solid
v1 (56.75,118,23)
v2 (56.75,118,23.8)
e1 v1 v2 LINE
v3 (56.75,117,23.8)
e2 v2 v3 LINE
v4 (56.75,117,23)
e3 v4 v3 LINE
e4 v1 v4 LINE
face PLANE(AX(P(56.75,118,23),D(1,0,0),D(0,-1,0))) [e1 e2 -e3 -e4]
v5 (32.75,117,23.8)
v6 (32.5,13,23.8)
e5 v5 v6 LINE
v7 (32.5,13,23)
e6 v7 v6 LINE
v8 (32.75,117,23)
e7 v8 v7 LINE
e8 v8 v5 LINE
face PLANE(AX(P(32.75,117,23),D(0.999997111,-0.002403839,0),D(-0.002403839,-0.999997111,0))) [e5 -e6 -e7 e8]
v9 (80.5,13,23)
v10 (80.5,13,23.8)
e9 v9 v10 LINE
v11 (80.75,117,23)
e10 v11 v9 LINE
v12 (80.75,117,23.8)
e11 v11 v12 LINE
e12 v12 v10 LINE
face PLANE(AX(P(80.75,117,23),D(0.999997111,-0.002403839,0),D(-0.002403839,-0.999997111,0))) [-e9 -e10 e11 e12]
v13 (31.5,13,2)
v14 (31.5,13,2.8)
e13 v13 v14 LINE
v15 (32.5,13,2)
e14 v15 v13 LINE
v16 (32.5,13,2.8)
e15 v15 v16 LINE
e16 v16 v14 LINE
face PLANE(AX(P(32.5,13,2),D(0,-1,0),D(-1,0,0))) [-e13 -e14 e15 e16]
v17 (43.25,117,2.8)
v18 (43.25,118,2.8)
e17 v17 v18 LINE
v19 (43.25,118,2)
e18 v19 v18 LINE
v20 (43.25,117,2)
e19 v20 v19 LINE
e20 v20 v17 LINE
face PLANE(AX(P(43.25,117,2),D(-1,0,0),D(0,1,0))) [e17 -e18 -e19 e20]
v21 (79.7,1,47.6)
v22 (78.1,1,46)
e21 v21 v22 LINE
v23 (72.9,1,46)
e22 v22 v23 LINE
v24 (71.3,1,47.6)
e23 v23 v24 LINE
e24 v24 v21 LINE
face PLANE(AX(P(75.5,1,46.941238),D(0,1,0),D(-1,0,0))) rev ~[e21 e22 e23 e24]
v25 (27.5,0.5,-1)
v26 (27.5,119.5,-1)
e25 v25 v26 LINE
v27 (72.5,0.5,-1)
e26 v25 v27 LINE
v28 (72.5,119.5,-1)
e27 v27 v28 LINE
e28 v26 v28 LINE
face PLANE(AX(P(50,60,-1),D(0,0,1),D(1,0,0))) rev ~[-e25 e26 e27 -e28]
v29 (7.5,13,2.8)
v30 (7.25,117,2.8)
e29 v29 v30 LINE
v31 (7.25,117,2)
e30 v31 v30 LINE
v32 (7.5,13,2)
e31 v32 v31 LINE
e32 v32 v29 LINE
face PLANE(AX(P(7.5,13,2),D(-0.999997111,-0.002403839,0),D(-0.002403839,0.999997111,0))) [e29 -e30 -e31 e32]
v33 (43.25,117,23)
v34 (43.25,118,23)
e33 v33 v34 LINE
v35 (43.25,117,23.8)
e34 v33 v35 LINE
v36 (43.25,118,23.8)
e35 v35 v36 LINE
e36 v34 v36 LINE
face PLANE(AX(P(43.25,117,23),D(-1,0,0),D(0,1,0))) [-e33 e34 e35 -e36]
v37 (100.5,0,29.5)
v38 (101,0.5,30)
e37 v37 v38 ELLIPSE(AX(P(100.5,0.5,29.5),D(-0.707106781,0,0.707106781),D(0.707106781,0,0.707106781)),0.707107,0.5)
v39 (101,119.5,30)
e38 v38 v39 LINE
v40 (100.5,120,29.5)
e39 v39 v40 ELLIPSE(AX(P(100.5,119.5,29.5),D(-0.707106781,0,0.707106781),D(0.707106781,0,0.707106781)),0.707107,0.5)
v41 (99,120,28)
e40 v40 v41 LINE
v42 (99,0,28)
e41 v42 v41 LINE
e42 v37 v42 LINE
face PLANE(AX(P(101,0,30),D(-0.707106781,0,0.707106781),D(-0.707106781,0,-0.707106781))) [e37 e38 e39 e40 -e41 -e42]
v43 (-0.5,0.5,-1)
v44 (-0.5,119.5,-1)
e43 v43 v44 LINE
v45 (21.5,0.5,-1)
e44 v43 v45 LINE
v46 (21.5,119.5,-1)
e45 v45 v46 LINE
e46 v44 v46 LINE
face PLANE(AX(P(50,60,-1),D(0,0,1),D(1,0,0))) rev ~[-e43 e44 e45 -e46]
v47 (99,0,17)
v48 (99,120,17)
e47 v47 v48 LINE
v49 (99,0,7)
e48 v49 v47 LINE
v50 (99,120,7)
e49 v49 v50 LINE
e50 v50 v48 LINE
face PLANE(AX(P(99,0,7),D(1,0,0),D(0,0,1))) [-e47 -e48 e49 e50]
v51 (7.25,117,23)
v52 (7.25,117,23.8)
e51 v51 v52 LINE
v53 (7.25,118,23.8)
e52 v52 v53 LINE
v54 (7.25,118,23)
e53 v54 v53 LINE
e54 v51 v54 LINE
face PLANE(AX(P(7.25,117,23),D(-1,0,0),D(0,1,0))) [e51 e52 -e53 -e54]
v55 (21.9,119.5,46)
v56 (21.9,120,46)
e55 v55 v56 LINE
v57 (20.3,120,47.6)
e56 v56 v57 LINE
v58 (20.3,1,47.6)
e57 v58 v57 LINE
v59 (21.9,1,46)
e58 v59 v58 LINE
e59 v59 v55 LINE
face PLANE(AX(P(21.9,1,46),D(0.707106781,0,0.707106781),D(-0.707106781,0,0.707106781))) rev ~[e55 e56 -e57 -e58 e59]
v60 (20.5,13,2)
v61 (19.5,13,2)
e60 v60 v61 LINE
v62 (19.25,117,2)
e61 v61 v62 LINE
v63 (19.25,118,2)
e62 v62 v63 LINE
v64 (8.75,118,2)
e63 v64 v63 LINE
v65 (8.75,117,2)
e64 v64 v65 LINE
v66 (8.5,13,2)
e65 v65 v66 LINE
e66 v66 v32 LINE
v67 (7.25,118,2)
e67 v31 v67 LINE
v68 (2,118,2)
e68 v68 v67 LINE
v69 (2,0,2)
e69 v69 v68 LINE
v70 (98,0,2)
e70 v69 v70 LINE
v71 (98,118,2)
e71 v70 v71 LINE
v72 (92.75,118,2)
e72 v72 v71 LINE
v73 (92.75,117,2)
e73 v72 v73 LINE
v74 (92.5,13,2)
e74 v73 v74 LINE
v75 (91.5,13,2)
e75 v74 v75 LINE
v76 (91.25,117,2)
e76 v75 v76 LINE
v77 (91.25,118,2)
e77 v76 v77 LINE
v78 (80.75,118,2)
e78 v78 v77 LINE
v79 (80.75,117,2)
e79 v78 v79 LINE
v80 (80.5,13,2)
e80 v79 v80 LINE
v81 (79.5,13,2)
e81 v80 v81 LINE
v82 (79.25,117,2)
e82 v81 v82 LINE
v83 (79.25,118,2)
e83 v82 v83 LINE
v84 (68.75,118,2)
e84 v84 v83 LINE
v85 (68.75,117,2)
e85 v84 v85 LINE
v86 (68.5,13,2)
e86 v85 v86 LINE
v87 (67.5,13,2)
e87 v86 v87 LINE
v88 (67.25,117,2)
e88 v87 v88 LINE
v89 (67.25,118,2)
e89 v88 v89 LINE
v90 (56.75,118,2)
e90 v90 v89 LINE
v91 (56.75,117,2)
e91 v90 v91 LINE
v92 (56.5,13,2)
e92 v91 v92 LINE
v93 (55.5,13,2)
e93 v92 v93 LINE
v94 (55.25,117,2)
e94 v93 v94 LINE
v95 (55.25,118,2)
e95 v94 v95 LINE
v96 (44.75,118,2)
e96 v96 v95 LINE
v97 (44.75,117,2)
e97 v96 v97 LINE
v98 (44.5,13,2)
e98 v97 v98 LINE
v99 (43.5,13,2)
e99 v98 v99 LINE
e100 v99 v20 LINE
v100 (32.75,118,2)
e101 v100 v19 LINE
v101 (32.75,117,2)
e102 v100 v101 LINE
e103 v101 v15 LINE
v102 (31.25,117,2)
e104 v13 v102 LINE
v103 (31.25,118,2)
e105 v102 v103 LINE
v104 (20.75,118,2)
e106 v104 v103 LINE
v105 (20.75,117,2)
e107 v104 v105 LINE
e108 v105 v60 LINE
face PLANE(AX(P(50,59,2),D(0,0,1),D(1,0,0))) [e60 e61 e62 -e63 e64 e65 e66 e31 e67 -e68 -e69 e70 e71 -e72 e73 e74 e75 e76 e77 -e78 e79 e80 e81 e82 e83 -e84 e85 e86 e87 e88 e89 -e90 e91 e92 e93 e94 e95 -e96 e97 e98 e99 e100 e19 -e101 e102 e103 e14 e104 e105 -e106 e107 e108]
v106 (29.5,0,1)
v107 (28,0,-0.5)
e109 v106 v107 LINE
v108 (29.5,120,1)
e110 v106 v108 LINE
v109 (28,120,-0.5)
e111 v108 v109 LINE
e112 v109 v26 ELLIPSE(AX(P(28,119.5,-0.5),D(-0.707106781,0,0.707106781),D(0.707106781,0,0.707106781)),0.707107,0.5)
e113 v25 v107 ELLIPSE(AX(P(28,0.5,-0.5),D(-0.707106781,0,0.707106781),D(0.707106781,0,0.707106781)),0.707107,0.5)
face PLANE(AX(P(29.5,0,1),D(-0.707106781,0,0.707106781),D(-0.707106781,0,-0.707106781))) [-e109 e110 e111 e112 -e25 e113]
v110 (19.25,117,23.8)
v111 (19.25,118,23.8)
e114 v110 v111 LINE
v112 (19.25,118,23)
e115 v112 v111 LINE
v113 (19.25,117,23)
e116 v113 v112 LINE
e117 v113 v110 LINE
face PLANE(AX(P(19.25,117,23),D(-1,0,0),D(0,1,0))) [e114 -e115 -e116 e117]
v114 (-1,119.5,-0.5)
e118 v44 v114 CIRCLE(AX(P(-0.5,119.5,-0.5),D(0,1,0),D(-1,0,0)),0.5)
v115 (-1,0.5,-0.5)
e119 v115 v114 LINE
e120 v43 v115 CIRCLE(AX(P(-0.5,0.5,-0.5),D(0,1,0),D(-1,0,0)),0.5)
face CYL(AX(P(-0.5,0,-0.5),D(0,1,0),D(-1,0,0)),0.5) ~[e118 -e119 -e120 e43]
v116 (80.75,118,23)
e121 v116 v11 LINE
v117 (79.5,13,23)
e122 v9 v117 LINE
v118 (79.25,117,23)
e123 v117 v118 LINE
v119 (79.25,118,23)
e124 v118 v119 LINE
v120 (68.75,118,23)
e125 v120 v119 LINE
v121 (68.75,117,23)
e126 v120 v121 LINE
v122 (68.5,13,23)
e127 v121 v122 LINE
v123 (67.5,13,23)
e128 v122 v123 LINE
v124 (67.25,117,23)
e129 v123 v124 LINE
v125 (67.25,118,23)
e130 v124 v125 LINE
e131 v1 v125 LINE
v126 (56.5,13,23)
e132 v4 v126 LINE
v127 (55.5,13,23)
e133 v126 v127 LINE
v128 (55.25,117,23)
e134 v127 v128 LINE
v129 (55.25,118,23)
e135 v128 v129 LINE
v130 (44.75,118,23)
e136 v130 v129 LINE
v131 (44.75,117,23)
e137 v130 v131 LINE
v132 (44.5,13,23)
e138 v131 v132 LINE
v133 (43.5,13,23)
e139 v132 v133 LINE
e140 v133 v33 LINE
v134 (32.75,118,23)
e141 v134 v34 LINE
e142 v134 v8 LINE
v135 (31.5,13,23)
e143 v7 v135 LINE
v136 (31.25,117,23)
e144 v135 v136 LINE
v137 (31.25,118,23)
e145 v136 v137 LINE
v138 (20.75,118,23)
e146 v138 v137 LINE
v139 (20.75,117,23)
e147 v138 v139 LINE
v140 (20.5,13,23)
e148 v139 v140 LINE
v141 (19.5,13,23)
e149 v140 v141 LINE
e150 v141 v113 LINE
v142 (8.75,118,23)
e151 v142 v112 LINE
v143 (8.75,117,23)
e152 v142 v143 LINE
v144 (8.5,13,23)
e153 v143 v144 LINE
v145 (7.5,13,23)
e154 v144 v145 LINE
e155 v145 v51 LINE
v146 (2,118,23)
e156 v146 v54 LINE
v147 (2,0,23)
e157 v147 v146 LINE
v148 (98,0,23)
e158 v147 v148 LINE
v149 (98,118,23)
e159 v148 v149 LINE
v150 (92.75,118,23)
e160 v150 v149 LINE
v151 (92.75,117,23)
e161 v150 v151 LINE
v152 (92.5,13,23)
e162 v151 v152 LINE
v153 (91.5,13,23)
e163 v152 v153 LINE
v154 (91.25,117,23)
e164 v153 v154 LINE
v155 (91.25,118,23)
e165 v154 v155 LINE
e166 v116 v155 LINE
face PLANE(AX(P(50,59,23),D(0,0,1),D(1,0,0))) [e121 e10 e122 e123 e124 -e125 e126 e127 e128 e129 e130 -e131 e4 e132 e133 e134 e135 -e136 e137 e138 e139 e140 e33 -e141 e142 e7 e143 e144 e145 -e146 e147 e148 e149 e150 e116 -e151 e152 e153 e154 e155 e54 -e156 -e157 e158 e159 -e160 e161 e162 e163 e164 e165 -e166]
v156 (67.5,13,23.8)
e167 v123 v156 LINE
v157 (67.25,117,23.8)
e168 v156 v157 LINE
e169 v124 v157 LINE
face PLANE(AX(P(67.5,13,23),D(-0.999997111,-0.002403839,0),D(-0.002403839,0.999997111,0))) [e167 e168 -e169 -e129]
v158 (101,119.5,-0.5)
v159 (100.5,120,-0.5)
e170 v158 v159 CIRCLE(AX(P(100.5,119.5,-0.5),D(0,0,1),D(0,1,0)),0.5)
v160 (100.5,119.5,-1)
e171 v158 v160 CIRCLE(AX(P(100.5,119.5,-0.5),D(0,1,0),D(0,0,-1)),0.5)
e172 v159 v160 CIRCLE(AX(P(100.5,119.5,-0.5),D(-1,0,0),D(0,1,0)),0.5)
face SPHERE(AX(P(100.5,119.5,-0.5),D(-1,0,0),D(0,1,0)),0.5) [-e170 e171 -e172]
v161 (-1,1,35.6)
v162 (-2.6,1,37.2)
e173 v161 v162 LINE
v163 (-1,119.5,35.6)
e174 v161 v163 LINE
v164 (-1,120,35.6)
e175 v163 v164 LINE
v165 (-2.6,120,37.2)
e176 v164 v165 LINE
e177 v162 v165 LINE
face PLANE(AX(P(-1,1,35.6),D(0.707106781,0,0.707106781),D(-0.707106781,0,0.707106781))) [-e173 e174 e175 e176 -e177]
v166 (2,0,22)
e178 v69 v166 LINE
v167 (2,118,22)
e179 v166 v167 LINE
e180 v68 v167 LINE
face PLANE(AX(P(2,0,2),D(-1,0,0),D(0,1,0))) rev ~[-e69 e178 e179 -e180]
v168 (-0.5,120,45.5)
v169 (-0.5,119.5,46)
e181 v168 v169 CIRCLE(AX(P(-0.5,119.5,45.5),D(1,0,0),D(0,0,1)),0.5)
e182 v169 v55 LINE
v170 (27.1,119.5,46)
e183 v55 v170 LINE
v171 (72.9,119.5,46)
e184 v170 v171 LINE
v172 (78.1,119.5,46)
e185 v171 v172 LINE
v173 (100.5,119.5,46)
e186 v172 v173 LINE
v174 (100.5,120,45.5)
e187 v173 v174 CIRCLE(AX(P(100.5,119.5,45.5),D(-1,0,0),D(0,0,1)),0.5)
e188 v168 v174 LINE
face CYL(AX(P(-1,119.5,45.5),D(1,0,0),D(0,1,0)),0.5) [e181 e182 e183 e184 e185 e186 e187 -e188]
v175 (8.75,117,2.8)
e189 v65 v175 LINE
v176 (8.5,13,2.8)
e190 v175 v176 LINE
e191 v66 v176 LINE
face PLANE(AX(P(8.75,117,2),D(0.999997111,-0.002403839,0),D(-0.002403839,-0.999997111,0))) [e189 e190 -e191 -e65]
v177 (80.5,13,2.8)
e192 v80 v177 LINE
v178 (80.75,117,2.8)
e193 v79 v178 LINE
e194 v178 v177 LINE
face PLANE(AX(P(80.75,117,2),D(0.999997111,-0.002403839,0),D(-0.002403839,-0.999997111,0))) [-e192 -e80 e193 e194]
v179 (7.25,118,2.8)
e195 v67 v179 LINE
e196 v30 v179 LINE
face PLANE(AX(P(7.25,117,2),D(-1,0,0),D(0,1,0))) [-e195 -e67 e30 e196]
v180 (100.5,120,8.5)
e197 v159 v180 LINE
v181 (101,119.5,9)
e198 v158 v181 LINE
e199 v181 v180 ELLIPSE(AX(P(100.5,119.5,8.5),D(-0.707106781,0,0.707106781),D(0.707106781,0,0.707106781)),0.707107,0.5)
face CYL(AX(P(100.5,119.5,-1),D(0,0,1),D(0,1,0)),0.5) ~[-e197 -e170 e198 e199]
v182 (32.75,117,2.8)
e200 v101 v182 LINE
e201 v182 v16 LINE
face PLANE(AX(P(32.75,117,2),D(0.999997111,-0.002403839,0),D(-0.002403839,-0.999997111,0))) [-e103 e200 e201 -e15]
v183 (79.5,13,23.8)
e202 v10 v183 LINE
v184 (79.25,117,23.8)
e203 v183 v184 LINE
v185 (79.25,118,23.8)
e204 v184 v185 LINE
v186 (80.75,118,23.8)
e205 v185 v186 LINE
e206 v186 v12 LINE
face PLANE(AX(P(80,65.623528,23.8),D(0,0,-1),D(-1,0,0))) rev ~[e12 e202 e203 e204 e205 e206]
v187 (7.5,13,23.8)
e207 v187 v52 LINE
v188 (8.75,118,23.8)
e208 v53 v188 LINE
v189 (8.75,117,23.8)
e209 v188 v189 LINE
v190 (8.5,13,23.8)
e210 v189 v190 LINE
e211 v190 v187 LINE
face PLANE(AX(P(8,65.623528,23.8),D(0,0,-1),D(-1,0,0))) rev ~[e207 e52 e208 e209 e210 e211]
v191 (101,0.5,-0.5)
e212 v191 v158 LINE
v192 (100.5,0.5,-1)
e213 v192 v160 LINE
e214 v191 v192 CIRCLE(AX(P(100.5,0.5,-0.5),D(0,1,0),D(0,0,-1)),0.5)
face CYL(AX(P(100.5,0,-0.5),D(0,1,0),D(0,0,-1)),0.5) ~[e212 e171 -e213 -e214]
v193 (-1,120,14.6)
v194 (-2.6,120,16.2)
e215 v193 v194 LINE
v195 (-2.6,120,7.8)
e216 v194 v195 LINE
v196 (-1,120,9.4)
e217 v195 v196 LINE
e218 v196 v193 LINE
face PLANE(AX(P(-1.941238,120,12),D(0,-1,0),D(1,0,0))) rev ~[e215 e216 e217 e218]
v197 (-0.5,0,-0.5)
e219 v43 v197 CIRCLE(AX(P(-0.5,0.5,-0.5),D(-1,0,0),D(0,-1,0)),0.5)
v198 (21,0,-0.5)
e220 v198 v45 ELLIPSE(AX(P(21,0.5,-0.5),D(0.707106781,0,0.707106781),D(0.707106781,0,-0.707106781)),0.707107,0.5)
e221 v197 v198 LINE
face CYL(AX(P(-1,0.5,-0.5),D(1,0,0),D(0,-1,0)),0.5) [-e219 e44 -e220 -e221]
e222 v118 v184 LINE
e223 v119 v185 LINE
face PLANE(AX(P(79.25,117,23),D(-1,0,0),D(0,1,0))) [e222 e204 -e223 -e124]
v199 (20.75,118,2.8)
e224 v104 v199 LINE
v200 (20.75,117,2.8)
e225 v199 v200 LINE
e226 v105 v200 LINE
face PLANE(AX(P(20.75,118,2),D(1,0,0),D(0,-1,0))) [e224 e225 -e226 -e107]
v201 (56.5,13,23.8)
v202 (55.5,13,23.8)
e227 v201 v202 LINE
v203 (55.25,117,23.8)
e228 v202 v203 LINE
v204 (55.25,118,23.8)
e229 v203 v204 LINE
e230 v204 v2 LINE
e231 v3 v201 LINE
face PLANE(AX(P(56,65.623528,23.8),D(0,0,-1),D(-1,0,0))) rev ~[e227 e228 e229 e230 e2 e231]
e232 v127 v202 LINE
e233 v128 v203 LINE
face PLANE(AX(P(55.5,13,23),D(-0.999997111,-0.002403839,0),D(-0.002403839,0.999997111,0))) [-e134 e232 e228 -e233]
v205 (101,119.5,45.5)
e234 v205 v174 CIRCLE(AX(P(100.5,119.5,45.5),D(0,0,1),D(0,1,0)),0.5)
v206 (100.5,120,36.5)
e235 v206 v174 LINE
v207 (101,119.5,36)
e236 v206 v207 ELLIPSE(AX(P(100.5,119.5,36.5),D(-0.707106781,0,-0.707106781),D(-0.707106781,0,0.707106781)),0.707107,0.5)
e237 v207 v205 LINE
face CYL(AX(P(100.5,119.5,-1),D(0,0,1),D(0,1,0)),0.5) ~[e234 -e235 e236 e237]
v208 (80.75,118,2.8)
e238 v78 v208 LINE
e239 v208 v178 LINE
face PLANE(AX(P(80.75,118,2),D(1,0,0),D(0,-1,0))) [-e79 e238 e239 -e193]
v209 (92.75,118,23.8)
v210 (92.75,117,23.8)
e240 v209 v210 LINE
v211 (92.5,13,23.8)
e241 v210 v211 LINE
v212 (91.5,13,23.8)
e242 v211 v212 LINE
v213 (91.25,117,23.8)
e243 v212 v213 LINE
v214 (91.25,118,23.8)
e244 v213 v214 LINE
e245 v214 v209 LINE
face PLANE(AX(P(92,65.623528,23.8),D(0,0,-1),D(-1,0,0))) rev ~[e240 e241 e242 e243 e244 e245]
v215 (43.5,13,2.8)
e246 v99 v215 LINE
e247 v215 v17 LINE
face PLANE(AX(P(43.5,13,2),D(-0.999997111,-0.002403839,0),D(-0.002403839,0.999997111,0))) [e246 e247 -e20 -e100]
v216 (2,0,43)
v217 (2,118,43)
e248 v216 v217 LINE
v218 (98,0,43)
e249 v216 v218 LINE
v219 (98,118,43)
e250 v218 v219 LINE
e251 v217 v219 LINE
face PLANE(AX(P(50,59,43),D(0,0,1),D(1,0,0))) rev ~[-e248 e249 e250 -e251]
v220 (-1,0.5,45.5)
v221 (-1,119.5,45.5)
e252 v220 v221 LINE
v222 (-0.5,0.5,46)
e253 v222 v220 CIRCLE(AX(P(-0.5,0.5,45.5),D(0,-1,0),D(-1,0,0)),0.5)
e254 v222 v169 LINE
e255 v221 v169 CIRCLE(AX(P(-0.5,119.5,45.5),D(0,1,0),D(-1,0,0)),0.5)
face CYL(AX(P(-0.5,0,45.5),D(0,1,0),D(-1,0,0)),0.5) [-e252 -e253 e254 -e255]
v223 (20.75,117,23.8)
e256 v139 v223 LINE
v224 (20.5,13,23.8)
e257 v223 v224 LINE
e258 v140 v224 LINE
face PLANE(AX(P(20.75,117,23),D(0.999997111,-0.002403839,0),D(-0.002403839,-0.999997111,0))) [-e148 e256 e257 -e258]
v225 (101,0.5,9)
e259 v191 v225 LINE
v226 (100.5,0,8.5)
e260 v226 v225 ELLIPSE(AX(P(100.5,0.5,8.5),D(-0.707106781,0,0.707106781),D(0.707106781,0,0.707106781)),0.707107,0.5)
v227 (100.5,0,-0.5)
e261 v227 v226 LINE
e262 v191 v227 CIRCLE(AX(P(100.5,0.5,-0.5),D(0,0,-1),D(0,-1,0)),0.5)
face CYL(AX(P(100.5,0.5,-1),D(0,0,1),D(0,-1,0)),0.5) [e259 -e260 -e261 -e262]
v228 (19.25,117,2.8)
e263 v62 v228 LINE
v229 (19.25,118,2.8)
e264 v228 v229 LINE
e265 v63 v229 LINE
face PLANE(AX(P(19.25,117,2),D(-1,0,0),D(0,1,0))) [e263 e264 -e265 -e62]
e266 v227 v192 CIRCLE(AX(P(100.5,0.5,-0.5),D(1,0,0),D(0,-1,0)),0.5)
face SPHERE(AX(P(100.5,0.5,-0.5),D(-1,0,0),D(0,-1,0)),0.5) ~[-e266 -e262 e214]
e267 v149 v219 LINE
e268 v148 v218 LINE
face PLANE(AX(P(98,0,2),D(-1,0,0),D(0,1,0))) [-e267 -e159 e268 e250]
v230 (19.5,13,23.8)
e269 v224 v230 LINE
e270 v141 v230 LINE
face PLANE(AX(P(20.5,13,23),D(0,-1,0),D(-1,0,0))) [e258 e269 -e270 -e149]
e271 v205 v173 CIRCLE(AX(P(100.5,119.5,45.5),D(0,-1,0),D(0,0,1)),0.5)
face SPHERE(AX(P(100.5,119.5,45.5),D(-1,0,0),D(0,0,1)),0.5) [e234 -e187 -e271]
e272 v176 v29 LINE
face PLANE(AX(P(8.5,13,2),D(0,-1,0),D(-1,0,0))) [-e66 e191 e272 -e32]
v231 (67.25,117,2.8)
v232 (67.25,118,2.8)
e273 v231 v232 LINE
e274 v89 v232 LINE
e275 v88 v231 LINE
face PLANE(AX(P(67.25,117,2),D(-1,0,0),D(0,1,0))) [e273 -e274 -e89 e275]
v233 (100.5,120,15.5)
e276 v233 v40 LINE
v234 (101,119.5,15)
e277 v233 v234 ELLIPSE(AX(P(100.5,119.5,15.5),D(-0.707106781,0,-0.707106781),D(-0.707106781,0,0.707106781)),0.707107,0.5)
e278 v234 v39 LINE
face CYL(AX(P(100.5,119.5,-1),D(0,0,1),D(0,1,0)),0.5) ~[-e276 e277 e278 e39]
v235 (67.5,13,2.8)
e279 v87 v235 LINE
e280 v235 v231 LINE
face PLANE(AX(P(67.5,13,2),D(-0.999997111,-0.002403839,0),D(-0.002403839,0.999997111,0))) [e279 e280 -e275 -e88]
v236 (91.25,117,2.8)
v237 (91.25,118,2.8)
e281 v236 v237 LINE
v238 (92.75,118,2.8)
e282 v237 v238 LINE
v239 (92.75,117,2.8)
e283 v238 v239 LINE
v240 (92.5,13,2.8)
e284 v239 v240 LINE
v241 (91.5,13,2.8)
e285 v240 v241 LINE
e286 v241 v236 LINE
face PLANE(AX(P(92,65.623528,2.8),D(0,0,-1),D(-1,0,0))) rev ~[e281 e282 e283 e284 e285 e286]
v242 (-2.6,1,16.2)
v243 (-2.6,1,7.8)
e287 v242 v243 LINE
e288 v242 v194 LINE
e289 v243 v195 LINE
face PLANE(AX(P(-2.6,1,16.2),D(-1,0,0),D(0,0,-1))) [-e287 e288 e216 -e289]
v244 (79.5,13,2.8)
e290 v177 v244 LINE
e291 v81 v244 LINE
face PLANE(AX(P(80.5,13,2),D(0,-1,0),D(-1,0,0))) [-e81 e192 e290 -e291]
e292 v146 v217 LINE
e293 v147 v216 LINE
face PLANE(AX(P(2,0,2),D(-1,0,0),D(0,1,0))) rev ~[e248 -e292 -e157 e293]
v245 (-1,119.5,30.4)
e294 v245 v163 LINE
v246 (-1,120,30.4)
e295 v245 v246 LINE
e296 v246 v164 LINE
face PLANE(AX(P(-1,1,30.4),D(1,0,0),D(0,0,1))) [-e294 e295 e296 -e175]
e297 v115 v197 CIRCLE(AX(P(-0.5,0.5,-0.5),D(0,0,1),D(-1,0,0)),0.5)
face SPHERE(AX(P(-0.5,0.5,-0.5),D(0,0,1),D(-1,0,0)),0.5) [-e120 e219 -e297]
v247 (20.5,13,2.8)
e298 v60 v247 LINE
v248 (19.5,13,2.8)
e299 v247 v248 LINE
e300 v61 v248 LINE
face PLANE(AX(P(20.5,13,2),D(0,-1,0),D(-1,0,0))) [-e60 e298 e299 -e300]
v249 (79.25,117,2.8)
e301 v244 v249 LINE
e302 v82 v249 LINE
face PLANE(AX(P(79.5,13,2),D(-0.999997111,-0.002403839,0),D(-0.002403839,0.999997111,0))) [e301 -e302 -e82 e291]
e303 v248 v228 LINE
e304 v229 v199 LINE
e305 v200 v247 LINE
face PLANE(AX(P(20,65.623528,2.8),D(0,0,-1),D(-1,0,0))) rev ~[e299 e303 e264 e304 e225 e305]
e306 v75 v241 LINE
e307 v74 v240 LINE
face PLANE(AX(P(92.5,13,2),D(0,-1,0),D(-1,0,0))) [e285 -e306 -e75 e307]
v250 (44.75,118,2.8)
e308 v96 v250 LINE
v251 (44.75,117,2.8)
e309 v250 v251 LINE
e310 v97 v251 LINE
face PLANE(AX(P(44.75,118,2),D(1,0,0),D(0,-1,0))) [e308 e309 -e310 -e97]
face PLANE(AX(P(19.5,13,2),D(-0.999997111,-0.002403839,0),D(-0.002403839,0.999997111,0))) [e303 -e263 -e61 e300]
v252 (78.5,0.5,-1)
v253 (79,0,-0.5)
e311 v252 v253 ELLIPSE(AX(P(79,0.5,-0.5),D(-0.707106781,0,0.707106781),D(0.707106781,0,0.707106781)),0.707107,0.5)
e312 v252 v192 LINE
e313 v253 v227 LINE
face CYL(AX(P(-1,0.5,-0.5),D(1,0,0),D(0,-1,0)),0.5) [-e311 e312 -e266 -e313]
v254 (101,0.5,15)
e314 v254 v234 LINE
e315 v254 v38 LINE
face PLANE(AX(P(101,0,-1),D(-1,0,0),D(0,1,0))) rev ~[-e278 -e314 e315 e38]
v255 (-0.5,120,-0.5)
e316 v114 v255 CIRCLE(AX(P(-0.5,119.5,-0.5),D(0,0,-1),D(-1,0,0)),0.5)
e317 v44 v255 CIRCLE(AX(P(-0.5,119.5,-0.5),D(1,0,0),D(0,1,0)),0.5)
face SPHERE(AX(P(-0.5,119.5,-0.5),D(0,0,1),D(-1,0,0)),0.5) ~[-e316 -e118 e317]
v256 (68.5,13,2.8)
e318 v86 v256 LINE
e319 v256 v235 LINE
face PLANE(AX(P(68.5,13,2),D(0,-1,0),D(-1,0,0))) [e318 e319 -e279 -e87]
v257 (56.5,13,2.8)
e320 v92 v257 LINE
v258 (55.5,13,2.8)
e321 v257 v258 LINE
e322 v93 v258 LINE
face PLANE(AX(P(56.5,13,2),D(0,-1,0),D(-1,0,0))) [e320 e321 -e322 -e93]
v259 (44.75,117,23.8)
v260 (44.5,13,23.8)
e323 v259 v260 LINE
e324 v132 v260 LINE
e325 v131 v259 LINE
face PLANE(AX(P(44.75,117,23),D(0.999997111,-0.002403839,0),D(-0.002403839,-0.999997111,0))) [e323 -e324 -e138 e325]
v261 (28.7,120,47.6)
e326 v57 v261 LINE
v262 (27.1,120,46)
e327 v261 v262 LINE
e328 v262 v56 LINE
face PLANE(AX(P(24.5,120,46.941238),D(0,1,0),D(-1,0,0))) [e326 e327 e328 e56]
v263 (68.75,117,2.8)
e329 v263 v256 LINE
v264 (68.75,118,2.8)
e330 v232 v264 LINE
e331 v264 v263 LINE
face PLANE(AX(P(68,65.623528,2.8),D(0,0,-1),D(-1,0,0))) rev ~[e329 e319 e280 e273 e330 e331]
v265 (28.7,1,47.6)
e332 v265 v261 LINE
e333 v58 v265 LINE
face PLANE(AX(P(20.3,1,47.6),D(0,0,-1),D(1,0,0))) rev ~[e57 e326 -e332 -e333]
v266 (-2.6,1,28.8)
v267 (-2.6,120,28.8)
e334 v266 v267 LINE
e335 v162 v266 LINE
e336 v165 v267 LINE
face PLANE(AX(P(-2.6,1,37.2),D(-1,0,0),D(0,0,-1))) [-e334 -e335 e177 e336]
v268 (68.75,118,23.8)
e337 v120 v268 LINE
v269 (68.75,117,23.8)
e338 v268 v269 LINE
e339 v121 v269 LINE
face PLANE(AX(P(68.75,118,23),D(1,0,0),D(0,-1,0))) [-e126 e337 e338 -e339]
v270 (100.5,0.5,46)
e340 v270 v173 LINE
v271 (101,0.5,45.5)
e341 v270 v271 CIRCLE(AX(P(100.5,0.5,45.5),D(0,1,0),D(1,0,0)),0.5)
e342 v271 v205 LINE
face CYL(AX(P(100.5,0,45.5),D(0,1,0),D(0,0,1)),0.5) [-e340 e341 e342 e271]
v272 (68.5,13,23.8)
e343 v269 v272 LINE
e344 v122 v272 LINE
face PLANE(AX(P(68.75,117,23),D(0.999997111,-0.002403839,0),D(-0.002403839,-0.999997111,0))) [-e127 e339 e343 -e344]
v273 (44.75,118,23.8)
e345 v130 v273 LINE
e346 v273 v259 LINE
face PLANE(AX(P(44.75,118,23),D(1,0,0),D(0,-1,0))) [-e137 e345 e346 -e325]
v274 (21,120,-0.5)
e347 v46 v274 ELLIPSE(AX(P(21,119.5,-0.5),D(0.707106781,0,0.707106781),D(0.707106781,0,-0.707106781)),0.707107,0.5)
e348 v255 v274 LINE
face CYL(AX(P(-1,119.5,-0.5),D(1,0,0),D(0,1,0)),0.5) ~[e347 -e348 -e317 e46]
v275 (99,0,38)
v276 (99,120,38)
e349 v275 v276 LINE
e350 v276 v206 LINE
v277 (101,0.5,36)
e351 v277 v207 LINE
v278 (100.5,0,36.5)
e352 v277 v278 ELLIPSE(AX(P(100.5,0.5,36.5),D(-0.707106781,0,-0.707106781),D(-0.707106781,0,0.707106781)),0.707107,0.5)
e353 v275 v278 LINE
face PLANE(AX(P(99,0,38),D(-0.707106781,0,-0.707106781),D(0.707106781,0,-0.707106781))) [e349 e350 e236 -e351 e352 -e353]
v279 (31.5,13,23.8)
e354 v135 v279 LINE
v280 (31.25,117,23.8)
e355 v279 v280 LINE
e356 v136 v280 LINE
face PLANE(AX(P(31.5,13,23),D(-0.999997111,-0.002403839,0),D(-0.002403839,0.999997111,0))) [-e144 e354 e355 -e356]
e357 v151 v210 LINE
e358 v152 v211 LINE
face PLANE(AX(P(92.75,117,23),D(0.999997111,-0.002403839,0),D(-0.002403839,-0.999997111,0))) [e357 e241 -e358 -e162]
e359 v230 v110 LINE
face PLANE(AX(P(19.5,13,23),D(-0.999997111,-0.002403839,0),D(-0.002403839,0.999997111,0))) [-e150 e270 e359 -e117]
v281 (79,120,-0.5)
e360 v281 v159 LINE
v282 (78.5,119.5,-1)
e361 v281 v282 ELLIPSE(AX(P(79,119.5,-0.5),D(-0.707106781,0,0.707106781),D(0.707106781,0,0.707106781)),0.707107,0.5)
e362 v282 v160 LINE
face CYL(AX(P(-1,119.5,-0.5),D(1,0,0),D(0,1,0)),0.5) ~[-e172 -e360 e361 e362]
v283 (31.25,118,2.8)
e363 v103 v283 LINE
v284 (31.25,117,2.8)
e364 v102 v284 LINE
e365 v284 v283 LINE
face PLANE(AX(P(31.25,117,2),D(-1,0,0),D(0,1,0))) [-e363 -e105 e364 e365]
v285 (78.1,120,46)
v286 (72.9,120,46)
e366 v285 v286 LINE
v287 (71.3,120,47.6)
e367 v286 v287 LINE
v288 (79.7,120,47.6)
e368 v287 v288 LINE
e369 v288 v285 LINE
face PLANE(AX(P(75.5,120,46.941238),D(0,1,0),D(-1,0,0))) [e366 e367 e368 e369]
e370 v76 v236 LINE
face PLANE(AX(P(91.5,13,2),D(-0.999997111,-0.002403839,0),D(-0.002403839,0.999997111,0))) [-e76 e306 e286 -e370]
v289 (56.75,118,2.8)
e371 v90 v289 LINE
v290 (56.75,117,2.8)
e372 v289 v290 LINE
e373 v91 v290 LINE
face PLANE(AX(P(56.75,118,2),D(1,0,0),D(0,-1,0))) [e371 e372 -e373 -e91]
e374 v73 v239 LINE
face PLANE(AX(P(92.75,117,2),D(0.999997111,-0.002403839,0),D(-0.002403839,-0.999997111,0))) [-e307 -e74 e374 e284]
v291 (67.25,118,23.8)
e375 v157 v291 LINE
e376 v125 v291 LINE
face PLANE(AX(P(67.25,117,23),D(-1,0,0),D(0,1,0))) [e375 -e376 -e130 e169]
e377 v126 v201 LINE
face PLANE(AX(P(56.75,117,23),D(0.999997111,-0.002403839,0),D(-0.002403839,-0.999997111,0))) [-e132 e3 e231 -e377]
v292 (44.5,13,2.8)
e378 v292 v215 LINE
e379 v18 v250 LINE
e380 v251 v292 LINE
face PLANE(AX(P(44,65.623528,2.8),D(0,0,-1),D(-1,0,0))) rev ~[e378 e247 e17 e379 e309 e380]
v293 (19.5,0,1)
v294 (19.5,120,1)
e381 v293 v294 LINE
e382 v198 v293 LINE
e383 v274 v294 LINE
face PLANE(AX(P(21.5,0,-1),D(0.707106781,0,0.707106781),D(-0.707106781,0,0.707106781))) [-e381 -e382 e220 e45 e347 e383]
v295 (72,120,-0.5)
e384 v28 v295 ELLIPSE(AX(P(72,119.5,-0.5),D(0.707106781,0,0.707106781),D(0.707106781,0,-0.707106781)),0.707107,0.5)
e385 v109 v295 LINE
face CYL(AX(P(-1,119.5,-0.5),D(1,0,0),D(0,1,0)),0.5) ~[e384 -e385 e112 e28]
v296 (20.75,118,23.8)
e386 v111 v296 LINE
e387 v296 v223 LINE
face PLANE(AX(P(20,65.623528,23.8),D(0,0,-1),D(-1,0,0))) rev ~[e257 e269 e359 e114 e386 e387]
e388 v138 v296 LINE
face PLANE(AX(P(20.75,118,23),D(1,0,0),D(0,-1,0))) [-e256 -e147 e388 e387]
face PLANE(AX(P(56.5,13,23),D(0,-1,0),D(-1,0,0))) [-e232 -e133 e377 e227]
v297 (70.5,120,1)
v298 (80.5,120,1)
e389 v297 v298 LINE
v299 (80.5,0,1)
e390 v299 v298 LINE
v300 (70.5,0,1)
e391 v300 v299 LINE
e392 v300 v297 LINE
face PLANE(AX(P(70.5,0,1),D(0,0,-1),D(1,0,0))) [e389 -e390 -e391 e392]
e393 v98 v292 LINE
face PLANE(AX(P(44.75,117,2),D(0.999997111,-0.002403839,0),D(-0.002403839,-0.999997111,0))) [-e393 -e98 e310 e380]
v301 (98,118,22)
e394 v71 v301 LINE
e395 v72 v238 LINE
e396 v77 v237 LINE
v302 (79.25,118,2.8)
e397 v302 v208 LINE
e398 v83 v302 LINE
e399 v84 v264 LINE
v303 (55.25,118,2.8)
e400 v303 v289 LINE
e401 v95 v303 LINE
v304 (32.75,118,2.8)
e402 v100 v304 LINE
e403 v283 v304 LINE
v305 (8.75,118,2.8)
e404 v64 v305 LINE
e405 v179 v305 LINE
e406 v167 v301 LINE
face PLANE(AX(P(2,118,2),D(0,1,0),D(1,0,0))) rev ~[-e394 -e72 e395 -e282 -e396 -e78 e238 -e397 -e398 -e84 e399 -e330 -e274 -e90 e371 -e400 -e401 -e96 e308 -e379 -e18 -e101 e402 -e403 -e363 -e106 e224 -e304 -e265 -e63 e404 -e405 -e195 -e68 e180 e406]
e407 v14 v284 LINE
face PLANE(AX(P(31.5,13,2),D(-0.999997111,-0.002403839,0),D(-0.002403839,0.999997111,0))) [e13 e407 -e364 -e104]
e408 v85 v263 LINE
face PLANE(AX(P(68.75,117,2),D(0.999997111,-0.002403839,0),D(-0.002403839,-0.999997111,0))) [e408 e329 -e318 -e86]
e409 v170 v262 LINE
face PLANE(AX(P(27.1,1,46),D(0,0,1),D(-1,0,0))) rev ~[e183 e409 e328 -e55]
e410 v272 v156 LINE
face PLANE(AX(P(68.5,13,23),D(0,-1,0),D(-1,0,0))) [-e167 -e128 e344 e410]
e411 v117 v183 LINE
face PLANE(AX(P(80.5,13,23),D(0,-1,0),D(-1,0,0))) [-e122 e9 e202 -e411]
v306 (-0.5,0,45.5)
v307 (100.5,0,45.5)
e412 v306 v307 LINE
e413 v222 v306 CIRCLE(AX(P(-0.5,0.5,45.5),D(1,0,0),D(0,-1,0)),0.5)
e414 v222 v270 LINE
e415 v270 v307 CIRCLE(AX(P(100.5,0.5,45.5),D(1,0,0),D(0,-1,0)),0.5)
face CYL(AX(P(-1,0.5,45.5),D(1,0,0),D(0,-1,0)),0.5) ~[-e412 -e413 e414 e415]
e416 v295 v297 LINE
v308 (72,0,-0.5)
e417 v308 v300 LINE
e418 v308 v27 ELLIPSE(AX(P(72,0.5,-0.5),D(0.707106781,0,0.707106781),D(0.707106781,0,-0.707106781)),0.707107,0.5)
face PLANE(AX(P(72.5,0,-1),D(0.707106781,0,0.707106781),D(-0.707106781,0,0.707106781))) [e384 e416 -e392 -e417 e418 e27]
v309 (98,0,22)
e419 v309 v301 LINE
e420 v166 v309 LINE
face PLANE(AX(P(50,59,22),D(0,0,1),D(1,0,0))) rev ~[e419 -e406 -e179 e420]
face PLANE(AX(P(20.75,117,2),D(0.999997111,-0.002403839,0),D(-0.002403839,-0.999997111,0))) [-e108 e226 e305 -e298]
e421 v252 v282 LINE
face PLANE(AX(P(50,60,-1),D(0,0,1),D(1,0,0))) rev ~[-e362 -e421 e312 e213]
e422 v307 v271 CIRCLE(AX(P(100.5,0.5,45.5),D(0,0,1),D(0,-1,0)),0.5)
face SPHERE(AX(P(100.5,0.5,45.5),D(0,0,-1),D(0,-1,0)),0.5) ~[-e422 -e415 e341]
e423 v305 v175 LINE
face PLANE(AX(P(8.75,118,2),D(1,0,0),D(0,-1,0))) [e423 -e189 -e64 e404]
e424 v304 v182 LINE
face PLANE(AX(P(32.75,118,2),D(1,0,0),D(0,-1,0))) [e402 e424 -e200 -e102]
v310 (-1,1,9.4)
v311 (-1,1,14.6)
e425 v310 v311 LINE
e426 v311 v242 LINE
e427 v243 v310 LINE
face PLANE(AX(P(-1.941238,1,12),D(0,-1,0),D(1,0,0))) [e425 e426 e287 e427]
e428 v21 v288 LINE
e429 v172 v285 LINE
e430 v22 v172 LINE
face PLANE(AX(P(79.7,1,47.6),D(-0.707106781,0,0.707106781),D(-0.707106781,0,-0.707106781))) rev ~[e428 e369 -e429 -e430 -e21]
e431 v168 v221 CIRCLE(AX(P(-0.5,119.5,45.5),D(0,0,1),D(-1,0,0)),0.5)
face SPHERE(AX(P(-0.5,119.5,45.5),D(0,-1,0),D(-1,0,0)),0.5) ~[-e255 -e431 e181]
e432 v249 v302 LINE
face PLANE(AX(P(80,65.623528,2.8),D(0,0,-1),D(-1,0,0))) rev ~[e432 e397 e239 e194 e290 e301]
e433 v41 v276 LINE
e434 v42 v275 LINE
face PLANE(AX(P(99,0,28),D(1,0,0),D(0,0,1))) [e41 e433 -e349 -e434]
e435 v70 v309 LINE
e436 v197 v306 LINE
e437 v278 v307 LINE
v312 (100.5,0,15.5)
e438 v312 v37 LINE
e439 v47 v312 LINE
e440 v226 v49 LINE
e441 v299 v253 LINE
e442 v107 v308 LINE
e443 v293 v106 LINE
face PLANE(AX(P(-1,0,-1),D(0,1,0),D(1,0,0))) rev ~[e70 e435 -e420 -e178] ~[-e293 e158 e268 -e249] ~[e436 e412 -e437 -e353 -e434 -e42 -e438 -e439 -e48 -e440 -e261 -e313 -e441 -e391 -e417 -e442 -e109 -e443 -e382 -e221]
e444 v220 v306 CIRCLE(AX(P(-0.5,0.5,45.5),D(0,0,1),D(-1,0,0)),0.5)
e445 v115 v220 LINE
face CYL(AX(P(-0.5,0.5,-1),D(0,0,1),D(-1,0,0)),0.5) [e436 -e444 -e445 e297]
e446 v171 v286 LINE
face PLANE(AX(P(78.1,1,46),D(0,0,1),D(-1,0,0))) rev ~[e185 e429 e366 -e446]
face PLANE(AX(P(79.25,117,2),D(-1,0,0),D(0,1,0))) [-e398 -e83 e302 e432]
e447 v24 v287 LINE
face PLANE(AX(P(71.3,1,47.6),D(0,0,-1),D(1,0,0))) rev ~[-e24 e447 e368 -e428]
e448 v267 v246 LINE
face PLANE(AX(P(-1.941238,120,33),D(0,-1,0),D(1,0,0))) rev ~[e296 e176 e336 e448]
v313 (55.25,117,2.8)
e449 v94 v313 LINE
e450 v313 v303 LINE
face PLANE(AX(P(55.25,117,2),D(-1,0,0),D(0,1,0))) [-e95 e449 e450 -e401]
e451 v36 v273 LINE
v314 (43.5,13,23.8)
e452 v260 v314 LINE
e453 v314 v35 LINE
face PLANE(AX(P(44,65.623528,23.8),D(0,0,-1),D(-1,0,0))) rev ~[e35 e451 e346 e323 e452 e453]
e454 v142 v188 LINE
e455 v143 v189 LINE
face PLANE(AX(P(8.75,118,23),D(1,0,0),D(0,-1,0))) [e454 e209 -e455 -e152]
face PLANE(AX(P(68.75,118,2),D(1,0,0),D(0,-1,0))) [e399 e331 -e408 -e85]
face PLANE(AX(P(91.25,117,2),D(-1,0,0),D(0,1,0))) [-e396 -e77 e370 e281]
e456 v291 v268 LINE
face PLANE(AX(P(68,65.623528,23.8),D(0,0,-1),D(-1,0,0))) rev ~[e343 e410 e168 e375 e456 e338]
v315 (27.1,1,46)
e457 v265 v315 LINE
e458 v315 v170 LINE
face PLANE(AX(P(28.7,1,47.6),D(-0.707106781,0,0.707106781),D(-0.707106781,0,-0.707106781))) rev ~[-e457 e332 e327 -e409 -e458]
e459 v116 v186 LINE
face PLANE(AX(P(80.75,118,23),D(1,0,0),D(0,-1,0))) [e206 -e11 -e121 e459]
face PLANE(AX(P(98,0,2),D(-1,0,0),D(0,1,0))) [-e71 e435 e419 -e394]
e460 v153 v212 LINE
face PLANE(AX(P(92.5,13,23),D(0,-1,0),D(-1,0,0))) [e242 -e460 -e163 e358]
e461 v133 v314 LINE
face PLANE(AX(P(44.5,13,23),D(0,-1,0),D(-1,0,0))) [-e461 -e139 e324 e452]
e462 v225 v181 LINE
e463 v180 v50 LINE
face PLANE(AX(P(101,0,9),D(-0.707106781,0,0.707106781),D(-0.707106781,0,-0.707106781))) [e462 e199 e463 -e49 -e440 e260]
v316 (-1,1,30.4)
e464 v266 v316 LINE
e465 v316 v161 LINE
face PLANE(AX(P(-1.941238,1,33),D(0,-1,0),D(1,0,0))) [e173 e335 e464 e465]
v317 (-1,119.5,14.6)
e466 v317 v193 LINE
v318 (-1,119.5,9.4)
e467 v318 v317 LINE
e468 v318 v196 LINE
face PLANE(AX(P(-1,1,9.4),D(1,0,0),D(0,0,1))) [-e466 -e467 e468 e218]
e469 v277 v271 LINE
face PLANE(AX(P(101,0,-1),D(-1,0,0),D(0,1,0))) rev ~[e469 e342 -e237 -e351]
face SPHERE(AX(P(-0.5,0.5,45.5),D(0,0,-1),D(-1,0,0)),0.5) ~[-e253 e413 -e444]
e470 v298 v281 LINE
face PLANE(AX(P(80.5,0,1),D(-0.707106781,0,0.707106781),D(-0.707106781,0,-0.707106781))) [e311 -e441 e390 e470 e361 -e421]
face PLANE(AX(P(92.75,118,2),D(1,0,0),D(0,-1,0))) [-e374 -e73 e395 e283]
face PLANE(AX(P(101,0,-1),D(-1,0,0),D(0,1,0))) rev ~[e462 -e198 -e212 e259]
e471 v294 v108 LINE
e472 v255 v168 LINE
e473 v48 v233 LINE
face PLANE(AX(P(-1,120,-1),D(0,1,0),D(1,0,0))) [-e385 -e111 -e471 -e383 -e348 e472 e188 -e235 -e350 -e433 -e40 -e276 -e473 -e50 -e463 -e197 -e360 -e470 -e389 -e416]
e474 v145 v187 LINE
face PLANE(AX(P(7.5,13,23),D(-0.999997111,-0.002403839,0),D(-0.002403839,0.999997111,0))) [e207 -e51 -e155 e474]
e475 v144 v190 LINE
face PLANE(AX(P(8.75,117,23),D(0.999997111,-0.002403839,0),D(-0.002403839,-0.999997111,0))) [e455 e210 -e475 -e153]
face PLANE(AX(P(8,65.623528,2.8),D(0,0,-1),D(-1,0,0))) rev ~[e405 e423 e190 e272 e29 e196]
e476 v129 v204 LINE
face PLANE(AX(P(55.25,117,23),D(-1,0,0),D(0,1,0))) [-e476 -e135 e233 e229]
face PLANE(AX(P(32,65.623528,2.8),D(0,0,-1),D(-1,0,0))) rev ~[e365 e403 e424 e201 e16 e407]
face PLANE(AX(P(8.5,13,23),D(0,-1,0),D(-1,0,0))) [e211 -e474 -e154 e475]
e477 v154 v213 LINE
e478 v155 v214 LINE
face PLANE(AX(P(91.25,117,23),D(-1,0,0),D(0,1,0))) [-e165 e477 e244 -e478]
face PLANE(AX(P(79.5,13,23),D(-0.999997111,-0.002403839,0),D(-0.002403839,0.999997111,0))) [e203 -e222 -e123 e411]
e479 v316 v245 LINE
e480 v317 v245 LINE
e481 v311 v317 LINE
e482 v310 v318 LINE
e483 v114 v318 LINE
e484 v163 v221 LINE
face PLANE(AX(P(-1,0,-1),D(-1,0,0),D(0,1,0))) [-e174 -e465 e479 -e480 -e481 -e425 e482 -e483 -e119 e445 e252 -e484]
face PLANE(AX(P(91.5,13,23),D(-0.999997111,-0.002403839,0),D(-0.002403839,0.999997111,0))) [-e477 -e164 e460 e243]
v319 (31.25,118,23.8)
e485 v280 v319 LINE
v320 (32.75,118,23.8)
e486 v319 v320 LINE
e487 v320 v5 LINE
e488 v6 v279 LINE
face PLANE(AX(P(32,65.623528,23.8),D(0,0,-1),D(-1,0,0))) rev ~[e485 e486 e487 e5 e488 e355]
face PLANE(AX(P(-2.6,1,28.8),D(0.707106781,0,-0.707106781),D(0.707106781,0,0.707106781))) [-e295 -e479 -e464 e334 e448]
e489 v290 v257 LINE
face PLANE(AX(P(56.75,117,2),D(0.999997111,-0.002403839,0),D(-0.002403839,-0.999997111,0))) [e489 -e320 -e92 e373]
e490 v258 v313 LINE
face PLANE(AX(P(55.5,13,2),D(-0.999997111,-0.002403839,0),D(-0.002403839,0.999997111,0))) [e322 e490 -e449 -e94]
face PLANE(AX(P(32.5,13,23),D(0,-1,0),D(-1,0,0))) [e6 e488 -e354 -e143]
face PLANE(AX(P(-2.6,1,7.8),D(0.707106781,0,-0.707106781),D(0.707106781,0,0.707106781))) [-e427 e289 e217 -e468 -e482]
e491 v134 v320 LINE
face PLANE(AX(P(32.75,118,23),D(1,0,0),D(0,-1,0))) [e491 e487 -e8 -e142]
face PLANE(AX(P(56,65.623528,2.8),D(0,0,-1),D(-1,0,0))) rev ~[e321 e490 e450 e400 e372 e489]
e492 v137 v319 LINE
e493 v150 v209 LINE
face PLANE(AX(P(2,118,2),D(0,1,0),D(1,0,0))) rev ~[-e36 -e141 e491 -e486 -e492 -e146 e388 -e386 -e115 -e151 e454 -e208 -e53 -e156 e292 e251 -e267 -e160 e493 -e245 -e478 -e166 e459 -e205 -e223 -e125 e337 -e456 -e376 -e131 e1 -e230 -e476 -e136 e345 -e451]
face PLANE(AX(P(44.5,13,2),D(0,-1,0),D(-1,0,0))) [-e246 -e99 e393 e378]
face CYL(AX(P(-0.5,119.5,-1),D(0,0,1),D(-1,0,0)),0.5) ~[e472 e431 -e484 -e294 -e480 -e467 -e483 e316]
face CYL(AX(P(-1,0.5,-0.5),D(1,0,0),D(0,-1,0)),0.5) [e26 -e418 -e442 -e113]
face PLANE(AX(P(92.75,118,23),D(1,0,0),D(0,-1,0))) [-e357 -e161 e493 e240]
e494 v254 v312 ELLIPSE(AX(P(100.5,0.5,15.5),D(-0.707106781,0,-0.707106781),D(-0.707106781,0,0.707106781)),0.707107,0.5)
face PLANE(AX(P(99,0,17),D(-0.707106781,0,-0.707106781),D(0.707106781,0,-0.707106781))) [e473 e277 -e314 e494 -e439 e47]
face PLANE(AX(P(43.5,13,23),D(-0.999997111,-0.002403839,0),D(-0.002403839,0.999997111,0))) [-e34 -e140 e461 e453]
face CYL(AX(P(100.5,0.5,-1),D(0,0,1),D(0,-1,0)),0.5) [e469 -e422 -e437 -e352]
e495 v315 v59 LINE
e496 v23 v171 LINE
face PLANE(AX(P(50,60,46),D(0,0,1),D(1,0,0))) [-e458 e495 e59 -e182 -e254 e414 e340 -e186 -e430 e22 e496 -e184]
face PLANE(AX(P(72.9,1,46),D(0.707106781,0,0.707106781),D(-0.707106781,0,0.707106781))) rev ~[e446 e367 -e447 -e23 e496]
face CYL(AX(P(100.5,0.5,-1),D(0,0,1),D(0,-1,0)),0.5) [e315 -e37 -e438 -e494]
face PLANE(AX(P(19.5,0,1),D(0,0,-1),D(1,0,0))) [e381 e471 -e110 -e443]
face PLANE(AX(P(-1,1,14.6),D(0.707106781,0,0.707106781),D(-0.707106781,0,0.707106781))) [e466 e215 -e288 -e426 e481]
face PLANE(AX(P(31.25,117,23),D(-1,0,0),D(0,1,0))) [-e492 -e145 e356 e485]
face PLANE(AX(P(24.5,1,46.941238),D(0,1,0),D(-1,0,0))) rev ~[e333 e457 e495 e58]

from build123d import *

# Parameters (mm, degrees)
EXTRUDE004_DEPTH                     = 120
EXTRUDE004_ONTO_SKETCH004_ROLL_ANGLE = 90
ARRAY005_X_COUNT                     = 2
ARRAY005_X_PITCH                     = 51
EXTRUDE001_DEPTH                     = 120
EXTRUDE001_ONTO_SKETCH001_ROLL_ANGLE = 90
ARRAY003_Z_COUNT                     = 2
ARRAY003_Z_PITCH                     = 21
EXTRUDE003_DEPTH                     = 119
EXTRUDE003_ONTO_SKETCH003_ROLL_ANGLE = 90
ARRAY_X_COUNT                        = 2
ARRAY_X_PITCH                        = 51
EXTRUDE002_DEPTH                     = 119
EXTRUDE002_ONTO_SKETCH002_ROLL_ANGLE = 90
ARRAY004_Z_COUNT                     = 2
ARRAY004_Z_PITCH                     = 21
BOX002_W                             = 96
BOX002_H                             = 118
BOX002_DEPTH                         = 1
BOX001_W                             = 96
BOX001_H                             = 118
BOX001_DEPTH                         = 41
BOX_W                                = 102
BOX_H                                = 120
BOX_DEPTH                            = 47
EXTRUDE_DEPTH                        = 0.8
ARRAY002_X_COUNT                     = 8
ARRAY002_X_PITCH                     = 12
ARRAY002_Z_COUNT                     = 2
ARRAY002_Z_PITCH                     = 21
FILLET_R                             = 0.5


with BuildPart() as bottomsideguidearray:
    # Sketch004 as drawn → Extrude004 (new)
    with BuildSketch(Plane.XY):
        Polygon((-6, 1), (4, 1), (2, -1), (-4, -1), align=None)
    extrude(amount=-EXTRUDE004_DEPTH)


with BuildPart() as bottomsideguidearray_1:
    # Extrude004 onto Sketch004 roll: moved
    add(bottomsideguidearray.part.rotate(Axis((0, 0, 0), (1, 0, 0)), EXTRUDE004_ONTO_SKETCH004_ROLL_ANGLE))


with BuildPart() as bottomsideguidearray_2:
    # Extrude004 onto Sketch004 placement: moved
    add(bottomsideguidearray_1.part)


with BuildPart() as bottomsideguidearray_3:
    # Extrude004 placement: moved
    add(bottomsideguidearray_2.part.moved(Location((25.5, 0, 0))))

    # Array005 X: BottomSideGuideArray ×2


with BuildPart() as bottomsideguidearray_4:
    add(bottomsideguidearray_3.part)
    with Locations(*[(i * ARRAY005_X_PITCH, 0, 0) for i in range(1, ARRAY005_X_COUNT)]):
        add(bottomsideguidearray_3.part)


with BuildPart() as guidegaps:
    # Sketch001 as drawn → Extrude001 (new)
    with BuildSketch(Plane.XY):
        Polygon((0, 0), (0, 10), (2, 8), (2, 2), align=None)
    extrude(amount=-EXTRUDE001_DEPTH)


with BuildPart() as guidegaps_1:
    # Extrude001 onto Sketch001 roll: moved
    add(guidegaps.part.rotate(Axis((0, 0, 0), (1, 0, 0)), EXTRUDE001_ONTO_SKETCH001_ROLL_ANGLE))


with BuildPart() as guidegaps_2:
    # Extrude001 onto Sketch001 placement: moved
    add(guidegaps_1.part.moved(Location((99, 0, 7))))

    # Array003 Z: GuideGaps ×2


with BuildPart() as guidegaps_3:
    add(guidegaps_2.part)
    with Locations(*[(0, 0, i * ARRAY003_Z_PITCH) for i in range(1, ARRAY003_Z_COUNT)]):
        add(guidegaps_2.part)

    # Fusion003: union BottomSideGuideArray
    add(bottomsideguidearray_4.part)


with BuildPart() as topsideguidearray:
    # Sketch003 as drawn → Extrude003 (new)
    with BuildSketch(Plane.XY):
        Polygon((-5.2, 47.6), (3.2, 47.6), (1.6, 46), (-3.6, 46), align=None)
    extrude(amount=-EXTRUDE003_DEPTH)


with BuildPart() as topsideguidearray_1:
    # Extrude003 onto Sketch003 roll: moved
    add(topsideguidearray.part.rotate(Axis((0, 0, 0), (1, 0, 0)), EXTRUDE003_ONTO_SKETCH003_ROLL_ANGLE))


with BuildPart() as topsideguidearray_2:
    # Extrude003 onto Sketch003 placement: moved
    add(topsideguidearray_1.part)


with BuildPart() as topsideguidearray_3:
    # Extrude003 placement: moved
    add(topsideguidearray_2.part.moved(Location((25.5, 1, 0))))

    # Array X: TopSideGuideArray ×2


with BuildPart() as topsideguidearray_4:
    add(topsideguidearray_3.part)
    with Locations(*[(i * ARRAY_X_PITCH, 0, 0) for i in range(1, ARRAY_X_COUNT)]):
        add(topsideguidearray_3.part)


with BuildPart() as guiderods:
    # Sketch002 as drawn → Extrude002 (new)
    with BuildSketch(Plane.XY):
        Polygon((0.4, 9.2), (0.4, 0.8), (2, 2.4), (2, 7.6), align=None)
    extrude(amount=-EXTRUDE002_DEPTH)


with BuildPart() as guiderods_1:
    # Extrude002 onto Sketch002 roll: moved
    add(guiderods.part.rotate(Axis((0, 0, 0), (1, 0, 0)), EXTRUDE002_ONTO_SKETCH002_ROLL_ANGLE))


with BuildPart() as guiderods_2:
    # Extrude002 onto Sketch002 placement: moved
    add(guiderods_1.part.moved(Location((-1, 0, 7))))


with BuildPart() as guiderods_3:
    # Extrude002 placement: moved
    add(guiderods_2.part.moved(Location((-2, 1, 0))))

    # Array004 Z: GuideRods ×2


with BuildPart() as guiderods_4:
    add(guiderods_3.part)
    with Locations(*[(0, 0, i * ARRAY004_Z_PITCH) for i in range(1, ARRAY004_Z_COUNT)]):
        add(guiderods_3.part)

    # Fusion002: union TopSideGuideArray
    add(topsideguidearray_4.part)


with BuildPart() as separator:
    # Box002 → Box002 (new body)
    with BuildSketch(Plane(origin=(2, 0, 22), x_dir=(1, 0, 0), z_dir=(0, 0, 1))):
        with Locations((48, 59)):
            Rectangle(BOX002_W, BOX002_H)
    extrude(amount=BOX002_DEPTH)


with BuildPart() as inner_box:
    # Box001 → Box001 (new body)
    with BuildSketch(Plane(origin=(2, 0, 2), x_dir=(1, 0, 0), z_dir=(0, 0, 1))):
        with Locations((48, 59)):
            Rectangle(BOX001_W, BOX001_H)
    extrude(amount=BOX001_DEPTH)


with BuildPart() as cabinet_base:
    # Box → Box (new body)
    with BuildSketch(Plane(origin=(-1, 0, -1), x_dir=(1, 0, 0), z_dir=(0, 0, 1))):
        with Locations((51, 60)):
            Rectangle(BOX_W, BOX_H)
    extrude(amount=BOX_DEPTH)

    # Cut: cut Inner Box
    add(inner_box.part, mode=Mode.SUBTRACT)

    # Fusion: union Separator
    add(separator.part)


with BuildPart() as final_cabinet:
    # Sketch → Extrude (new body)
    with BuildSketch(Plane.XY):
        Polygon((0.5, 0), (0.25, 104), (0.25, 105), (1.75, 105), (1.75, 104), (1.5, 0), align=None)
    extrude(amount=EXTRUDE_DEPTH)

    # Array002 X: Final Cabinet ×8


with BuildPart() as final_cabinet_1:
    add(final_cabinet.part)
    with Locations(*[(i * ARRAY002_X_PITCH, 0, 0) for i in range(1, ARRAY002_X_COUNT)]):
        add(final_cabinet.part)

    # Array002 Z: Final Cabinet ×2


with BuildPart() as final_cabinet_2:
    add(final_cabinet_1.part)
    with Locations(*[(0, 0, i * ARRAY002_Z_PITCH) for i in range(1, ARRAY002_Z_COUNT)]):
        add(final_cabinet_1.part)


with BuildPart() as final_cabinet_3:
    # Array002 placement: moved
    add(final_cabinet_2.part.moved(Location((7, 13, 2))))

    # Fusion001: union Cabinet Base
    add(cabinet_base.part)

    # Fillet
    fillet_edges = [final_cabinet_3.edges().sort_by_distance(p)[0] for p in [
        (-1, 0, 22.5),
        (-1, 60, 46),
        (-1, 120, 22.5),
        (-1, 60, -1),
        (50, 0, -1),
        (101, 0, 22.5),
        (50, 0, 46),
        (50, 120, 46),
        (101, 60, 46),
        (50, 120, -1),
        (101, 120, 22.5),
        (101, 60, -1),
    ]]
    fillet(fillet_edges, radius=FILLET_R)

    # Fusion004: union GuideRods
    add(guiderods_4.part)

    # Cut001: cut GuideGaps
    add(guidegaps_3.part, mode=Mode.SUBTRACT)


solid = final_cabinet_3.part
